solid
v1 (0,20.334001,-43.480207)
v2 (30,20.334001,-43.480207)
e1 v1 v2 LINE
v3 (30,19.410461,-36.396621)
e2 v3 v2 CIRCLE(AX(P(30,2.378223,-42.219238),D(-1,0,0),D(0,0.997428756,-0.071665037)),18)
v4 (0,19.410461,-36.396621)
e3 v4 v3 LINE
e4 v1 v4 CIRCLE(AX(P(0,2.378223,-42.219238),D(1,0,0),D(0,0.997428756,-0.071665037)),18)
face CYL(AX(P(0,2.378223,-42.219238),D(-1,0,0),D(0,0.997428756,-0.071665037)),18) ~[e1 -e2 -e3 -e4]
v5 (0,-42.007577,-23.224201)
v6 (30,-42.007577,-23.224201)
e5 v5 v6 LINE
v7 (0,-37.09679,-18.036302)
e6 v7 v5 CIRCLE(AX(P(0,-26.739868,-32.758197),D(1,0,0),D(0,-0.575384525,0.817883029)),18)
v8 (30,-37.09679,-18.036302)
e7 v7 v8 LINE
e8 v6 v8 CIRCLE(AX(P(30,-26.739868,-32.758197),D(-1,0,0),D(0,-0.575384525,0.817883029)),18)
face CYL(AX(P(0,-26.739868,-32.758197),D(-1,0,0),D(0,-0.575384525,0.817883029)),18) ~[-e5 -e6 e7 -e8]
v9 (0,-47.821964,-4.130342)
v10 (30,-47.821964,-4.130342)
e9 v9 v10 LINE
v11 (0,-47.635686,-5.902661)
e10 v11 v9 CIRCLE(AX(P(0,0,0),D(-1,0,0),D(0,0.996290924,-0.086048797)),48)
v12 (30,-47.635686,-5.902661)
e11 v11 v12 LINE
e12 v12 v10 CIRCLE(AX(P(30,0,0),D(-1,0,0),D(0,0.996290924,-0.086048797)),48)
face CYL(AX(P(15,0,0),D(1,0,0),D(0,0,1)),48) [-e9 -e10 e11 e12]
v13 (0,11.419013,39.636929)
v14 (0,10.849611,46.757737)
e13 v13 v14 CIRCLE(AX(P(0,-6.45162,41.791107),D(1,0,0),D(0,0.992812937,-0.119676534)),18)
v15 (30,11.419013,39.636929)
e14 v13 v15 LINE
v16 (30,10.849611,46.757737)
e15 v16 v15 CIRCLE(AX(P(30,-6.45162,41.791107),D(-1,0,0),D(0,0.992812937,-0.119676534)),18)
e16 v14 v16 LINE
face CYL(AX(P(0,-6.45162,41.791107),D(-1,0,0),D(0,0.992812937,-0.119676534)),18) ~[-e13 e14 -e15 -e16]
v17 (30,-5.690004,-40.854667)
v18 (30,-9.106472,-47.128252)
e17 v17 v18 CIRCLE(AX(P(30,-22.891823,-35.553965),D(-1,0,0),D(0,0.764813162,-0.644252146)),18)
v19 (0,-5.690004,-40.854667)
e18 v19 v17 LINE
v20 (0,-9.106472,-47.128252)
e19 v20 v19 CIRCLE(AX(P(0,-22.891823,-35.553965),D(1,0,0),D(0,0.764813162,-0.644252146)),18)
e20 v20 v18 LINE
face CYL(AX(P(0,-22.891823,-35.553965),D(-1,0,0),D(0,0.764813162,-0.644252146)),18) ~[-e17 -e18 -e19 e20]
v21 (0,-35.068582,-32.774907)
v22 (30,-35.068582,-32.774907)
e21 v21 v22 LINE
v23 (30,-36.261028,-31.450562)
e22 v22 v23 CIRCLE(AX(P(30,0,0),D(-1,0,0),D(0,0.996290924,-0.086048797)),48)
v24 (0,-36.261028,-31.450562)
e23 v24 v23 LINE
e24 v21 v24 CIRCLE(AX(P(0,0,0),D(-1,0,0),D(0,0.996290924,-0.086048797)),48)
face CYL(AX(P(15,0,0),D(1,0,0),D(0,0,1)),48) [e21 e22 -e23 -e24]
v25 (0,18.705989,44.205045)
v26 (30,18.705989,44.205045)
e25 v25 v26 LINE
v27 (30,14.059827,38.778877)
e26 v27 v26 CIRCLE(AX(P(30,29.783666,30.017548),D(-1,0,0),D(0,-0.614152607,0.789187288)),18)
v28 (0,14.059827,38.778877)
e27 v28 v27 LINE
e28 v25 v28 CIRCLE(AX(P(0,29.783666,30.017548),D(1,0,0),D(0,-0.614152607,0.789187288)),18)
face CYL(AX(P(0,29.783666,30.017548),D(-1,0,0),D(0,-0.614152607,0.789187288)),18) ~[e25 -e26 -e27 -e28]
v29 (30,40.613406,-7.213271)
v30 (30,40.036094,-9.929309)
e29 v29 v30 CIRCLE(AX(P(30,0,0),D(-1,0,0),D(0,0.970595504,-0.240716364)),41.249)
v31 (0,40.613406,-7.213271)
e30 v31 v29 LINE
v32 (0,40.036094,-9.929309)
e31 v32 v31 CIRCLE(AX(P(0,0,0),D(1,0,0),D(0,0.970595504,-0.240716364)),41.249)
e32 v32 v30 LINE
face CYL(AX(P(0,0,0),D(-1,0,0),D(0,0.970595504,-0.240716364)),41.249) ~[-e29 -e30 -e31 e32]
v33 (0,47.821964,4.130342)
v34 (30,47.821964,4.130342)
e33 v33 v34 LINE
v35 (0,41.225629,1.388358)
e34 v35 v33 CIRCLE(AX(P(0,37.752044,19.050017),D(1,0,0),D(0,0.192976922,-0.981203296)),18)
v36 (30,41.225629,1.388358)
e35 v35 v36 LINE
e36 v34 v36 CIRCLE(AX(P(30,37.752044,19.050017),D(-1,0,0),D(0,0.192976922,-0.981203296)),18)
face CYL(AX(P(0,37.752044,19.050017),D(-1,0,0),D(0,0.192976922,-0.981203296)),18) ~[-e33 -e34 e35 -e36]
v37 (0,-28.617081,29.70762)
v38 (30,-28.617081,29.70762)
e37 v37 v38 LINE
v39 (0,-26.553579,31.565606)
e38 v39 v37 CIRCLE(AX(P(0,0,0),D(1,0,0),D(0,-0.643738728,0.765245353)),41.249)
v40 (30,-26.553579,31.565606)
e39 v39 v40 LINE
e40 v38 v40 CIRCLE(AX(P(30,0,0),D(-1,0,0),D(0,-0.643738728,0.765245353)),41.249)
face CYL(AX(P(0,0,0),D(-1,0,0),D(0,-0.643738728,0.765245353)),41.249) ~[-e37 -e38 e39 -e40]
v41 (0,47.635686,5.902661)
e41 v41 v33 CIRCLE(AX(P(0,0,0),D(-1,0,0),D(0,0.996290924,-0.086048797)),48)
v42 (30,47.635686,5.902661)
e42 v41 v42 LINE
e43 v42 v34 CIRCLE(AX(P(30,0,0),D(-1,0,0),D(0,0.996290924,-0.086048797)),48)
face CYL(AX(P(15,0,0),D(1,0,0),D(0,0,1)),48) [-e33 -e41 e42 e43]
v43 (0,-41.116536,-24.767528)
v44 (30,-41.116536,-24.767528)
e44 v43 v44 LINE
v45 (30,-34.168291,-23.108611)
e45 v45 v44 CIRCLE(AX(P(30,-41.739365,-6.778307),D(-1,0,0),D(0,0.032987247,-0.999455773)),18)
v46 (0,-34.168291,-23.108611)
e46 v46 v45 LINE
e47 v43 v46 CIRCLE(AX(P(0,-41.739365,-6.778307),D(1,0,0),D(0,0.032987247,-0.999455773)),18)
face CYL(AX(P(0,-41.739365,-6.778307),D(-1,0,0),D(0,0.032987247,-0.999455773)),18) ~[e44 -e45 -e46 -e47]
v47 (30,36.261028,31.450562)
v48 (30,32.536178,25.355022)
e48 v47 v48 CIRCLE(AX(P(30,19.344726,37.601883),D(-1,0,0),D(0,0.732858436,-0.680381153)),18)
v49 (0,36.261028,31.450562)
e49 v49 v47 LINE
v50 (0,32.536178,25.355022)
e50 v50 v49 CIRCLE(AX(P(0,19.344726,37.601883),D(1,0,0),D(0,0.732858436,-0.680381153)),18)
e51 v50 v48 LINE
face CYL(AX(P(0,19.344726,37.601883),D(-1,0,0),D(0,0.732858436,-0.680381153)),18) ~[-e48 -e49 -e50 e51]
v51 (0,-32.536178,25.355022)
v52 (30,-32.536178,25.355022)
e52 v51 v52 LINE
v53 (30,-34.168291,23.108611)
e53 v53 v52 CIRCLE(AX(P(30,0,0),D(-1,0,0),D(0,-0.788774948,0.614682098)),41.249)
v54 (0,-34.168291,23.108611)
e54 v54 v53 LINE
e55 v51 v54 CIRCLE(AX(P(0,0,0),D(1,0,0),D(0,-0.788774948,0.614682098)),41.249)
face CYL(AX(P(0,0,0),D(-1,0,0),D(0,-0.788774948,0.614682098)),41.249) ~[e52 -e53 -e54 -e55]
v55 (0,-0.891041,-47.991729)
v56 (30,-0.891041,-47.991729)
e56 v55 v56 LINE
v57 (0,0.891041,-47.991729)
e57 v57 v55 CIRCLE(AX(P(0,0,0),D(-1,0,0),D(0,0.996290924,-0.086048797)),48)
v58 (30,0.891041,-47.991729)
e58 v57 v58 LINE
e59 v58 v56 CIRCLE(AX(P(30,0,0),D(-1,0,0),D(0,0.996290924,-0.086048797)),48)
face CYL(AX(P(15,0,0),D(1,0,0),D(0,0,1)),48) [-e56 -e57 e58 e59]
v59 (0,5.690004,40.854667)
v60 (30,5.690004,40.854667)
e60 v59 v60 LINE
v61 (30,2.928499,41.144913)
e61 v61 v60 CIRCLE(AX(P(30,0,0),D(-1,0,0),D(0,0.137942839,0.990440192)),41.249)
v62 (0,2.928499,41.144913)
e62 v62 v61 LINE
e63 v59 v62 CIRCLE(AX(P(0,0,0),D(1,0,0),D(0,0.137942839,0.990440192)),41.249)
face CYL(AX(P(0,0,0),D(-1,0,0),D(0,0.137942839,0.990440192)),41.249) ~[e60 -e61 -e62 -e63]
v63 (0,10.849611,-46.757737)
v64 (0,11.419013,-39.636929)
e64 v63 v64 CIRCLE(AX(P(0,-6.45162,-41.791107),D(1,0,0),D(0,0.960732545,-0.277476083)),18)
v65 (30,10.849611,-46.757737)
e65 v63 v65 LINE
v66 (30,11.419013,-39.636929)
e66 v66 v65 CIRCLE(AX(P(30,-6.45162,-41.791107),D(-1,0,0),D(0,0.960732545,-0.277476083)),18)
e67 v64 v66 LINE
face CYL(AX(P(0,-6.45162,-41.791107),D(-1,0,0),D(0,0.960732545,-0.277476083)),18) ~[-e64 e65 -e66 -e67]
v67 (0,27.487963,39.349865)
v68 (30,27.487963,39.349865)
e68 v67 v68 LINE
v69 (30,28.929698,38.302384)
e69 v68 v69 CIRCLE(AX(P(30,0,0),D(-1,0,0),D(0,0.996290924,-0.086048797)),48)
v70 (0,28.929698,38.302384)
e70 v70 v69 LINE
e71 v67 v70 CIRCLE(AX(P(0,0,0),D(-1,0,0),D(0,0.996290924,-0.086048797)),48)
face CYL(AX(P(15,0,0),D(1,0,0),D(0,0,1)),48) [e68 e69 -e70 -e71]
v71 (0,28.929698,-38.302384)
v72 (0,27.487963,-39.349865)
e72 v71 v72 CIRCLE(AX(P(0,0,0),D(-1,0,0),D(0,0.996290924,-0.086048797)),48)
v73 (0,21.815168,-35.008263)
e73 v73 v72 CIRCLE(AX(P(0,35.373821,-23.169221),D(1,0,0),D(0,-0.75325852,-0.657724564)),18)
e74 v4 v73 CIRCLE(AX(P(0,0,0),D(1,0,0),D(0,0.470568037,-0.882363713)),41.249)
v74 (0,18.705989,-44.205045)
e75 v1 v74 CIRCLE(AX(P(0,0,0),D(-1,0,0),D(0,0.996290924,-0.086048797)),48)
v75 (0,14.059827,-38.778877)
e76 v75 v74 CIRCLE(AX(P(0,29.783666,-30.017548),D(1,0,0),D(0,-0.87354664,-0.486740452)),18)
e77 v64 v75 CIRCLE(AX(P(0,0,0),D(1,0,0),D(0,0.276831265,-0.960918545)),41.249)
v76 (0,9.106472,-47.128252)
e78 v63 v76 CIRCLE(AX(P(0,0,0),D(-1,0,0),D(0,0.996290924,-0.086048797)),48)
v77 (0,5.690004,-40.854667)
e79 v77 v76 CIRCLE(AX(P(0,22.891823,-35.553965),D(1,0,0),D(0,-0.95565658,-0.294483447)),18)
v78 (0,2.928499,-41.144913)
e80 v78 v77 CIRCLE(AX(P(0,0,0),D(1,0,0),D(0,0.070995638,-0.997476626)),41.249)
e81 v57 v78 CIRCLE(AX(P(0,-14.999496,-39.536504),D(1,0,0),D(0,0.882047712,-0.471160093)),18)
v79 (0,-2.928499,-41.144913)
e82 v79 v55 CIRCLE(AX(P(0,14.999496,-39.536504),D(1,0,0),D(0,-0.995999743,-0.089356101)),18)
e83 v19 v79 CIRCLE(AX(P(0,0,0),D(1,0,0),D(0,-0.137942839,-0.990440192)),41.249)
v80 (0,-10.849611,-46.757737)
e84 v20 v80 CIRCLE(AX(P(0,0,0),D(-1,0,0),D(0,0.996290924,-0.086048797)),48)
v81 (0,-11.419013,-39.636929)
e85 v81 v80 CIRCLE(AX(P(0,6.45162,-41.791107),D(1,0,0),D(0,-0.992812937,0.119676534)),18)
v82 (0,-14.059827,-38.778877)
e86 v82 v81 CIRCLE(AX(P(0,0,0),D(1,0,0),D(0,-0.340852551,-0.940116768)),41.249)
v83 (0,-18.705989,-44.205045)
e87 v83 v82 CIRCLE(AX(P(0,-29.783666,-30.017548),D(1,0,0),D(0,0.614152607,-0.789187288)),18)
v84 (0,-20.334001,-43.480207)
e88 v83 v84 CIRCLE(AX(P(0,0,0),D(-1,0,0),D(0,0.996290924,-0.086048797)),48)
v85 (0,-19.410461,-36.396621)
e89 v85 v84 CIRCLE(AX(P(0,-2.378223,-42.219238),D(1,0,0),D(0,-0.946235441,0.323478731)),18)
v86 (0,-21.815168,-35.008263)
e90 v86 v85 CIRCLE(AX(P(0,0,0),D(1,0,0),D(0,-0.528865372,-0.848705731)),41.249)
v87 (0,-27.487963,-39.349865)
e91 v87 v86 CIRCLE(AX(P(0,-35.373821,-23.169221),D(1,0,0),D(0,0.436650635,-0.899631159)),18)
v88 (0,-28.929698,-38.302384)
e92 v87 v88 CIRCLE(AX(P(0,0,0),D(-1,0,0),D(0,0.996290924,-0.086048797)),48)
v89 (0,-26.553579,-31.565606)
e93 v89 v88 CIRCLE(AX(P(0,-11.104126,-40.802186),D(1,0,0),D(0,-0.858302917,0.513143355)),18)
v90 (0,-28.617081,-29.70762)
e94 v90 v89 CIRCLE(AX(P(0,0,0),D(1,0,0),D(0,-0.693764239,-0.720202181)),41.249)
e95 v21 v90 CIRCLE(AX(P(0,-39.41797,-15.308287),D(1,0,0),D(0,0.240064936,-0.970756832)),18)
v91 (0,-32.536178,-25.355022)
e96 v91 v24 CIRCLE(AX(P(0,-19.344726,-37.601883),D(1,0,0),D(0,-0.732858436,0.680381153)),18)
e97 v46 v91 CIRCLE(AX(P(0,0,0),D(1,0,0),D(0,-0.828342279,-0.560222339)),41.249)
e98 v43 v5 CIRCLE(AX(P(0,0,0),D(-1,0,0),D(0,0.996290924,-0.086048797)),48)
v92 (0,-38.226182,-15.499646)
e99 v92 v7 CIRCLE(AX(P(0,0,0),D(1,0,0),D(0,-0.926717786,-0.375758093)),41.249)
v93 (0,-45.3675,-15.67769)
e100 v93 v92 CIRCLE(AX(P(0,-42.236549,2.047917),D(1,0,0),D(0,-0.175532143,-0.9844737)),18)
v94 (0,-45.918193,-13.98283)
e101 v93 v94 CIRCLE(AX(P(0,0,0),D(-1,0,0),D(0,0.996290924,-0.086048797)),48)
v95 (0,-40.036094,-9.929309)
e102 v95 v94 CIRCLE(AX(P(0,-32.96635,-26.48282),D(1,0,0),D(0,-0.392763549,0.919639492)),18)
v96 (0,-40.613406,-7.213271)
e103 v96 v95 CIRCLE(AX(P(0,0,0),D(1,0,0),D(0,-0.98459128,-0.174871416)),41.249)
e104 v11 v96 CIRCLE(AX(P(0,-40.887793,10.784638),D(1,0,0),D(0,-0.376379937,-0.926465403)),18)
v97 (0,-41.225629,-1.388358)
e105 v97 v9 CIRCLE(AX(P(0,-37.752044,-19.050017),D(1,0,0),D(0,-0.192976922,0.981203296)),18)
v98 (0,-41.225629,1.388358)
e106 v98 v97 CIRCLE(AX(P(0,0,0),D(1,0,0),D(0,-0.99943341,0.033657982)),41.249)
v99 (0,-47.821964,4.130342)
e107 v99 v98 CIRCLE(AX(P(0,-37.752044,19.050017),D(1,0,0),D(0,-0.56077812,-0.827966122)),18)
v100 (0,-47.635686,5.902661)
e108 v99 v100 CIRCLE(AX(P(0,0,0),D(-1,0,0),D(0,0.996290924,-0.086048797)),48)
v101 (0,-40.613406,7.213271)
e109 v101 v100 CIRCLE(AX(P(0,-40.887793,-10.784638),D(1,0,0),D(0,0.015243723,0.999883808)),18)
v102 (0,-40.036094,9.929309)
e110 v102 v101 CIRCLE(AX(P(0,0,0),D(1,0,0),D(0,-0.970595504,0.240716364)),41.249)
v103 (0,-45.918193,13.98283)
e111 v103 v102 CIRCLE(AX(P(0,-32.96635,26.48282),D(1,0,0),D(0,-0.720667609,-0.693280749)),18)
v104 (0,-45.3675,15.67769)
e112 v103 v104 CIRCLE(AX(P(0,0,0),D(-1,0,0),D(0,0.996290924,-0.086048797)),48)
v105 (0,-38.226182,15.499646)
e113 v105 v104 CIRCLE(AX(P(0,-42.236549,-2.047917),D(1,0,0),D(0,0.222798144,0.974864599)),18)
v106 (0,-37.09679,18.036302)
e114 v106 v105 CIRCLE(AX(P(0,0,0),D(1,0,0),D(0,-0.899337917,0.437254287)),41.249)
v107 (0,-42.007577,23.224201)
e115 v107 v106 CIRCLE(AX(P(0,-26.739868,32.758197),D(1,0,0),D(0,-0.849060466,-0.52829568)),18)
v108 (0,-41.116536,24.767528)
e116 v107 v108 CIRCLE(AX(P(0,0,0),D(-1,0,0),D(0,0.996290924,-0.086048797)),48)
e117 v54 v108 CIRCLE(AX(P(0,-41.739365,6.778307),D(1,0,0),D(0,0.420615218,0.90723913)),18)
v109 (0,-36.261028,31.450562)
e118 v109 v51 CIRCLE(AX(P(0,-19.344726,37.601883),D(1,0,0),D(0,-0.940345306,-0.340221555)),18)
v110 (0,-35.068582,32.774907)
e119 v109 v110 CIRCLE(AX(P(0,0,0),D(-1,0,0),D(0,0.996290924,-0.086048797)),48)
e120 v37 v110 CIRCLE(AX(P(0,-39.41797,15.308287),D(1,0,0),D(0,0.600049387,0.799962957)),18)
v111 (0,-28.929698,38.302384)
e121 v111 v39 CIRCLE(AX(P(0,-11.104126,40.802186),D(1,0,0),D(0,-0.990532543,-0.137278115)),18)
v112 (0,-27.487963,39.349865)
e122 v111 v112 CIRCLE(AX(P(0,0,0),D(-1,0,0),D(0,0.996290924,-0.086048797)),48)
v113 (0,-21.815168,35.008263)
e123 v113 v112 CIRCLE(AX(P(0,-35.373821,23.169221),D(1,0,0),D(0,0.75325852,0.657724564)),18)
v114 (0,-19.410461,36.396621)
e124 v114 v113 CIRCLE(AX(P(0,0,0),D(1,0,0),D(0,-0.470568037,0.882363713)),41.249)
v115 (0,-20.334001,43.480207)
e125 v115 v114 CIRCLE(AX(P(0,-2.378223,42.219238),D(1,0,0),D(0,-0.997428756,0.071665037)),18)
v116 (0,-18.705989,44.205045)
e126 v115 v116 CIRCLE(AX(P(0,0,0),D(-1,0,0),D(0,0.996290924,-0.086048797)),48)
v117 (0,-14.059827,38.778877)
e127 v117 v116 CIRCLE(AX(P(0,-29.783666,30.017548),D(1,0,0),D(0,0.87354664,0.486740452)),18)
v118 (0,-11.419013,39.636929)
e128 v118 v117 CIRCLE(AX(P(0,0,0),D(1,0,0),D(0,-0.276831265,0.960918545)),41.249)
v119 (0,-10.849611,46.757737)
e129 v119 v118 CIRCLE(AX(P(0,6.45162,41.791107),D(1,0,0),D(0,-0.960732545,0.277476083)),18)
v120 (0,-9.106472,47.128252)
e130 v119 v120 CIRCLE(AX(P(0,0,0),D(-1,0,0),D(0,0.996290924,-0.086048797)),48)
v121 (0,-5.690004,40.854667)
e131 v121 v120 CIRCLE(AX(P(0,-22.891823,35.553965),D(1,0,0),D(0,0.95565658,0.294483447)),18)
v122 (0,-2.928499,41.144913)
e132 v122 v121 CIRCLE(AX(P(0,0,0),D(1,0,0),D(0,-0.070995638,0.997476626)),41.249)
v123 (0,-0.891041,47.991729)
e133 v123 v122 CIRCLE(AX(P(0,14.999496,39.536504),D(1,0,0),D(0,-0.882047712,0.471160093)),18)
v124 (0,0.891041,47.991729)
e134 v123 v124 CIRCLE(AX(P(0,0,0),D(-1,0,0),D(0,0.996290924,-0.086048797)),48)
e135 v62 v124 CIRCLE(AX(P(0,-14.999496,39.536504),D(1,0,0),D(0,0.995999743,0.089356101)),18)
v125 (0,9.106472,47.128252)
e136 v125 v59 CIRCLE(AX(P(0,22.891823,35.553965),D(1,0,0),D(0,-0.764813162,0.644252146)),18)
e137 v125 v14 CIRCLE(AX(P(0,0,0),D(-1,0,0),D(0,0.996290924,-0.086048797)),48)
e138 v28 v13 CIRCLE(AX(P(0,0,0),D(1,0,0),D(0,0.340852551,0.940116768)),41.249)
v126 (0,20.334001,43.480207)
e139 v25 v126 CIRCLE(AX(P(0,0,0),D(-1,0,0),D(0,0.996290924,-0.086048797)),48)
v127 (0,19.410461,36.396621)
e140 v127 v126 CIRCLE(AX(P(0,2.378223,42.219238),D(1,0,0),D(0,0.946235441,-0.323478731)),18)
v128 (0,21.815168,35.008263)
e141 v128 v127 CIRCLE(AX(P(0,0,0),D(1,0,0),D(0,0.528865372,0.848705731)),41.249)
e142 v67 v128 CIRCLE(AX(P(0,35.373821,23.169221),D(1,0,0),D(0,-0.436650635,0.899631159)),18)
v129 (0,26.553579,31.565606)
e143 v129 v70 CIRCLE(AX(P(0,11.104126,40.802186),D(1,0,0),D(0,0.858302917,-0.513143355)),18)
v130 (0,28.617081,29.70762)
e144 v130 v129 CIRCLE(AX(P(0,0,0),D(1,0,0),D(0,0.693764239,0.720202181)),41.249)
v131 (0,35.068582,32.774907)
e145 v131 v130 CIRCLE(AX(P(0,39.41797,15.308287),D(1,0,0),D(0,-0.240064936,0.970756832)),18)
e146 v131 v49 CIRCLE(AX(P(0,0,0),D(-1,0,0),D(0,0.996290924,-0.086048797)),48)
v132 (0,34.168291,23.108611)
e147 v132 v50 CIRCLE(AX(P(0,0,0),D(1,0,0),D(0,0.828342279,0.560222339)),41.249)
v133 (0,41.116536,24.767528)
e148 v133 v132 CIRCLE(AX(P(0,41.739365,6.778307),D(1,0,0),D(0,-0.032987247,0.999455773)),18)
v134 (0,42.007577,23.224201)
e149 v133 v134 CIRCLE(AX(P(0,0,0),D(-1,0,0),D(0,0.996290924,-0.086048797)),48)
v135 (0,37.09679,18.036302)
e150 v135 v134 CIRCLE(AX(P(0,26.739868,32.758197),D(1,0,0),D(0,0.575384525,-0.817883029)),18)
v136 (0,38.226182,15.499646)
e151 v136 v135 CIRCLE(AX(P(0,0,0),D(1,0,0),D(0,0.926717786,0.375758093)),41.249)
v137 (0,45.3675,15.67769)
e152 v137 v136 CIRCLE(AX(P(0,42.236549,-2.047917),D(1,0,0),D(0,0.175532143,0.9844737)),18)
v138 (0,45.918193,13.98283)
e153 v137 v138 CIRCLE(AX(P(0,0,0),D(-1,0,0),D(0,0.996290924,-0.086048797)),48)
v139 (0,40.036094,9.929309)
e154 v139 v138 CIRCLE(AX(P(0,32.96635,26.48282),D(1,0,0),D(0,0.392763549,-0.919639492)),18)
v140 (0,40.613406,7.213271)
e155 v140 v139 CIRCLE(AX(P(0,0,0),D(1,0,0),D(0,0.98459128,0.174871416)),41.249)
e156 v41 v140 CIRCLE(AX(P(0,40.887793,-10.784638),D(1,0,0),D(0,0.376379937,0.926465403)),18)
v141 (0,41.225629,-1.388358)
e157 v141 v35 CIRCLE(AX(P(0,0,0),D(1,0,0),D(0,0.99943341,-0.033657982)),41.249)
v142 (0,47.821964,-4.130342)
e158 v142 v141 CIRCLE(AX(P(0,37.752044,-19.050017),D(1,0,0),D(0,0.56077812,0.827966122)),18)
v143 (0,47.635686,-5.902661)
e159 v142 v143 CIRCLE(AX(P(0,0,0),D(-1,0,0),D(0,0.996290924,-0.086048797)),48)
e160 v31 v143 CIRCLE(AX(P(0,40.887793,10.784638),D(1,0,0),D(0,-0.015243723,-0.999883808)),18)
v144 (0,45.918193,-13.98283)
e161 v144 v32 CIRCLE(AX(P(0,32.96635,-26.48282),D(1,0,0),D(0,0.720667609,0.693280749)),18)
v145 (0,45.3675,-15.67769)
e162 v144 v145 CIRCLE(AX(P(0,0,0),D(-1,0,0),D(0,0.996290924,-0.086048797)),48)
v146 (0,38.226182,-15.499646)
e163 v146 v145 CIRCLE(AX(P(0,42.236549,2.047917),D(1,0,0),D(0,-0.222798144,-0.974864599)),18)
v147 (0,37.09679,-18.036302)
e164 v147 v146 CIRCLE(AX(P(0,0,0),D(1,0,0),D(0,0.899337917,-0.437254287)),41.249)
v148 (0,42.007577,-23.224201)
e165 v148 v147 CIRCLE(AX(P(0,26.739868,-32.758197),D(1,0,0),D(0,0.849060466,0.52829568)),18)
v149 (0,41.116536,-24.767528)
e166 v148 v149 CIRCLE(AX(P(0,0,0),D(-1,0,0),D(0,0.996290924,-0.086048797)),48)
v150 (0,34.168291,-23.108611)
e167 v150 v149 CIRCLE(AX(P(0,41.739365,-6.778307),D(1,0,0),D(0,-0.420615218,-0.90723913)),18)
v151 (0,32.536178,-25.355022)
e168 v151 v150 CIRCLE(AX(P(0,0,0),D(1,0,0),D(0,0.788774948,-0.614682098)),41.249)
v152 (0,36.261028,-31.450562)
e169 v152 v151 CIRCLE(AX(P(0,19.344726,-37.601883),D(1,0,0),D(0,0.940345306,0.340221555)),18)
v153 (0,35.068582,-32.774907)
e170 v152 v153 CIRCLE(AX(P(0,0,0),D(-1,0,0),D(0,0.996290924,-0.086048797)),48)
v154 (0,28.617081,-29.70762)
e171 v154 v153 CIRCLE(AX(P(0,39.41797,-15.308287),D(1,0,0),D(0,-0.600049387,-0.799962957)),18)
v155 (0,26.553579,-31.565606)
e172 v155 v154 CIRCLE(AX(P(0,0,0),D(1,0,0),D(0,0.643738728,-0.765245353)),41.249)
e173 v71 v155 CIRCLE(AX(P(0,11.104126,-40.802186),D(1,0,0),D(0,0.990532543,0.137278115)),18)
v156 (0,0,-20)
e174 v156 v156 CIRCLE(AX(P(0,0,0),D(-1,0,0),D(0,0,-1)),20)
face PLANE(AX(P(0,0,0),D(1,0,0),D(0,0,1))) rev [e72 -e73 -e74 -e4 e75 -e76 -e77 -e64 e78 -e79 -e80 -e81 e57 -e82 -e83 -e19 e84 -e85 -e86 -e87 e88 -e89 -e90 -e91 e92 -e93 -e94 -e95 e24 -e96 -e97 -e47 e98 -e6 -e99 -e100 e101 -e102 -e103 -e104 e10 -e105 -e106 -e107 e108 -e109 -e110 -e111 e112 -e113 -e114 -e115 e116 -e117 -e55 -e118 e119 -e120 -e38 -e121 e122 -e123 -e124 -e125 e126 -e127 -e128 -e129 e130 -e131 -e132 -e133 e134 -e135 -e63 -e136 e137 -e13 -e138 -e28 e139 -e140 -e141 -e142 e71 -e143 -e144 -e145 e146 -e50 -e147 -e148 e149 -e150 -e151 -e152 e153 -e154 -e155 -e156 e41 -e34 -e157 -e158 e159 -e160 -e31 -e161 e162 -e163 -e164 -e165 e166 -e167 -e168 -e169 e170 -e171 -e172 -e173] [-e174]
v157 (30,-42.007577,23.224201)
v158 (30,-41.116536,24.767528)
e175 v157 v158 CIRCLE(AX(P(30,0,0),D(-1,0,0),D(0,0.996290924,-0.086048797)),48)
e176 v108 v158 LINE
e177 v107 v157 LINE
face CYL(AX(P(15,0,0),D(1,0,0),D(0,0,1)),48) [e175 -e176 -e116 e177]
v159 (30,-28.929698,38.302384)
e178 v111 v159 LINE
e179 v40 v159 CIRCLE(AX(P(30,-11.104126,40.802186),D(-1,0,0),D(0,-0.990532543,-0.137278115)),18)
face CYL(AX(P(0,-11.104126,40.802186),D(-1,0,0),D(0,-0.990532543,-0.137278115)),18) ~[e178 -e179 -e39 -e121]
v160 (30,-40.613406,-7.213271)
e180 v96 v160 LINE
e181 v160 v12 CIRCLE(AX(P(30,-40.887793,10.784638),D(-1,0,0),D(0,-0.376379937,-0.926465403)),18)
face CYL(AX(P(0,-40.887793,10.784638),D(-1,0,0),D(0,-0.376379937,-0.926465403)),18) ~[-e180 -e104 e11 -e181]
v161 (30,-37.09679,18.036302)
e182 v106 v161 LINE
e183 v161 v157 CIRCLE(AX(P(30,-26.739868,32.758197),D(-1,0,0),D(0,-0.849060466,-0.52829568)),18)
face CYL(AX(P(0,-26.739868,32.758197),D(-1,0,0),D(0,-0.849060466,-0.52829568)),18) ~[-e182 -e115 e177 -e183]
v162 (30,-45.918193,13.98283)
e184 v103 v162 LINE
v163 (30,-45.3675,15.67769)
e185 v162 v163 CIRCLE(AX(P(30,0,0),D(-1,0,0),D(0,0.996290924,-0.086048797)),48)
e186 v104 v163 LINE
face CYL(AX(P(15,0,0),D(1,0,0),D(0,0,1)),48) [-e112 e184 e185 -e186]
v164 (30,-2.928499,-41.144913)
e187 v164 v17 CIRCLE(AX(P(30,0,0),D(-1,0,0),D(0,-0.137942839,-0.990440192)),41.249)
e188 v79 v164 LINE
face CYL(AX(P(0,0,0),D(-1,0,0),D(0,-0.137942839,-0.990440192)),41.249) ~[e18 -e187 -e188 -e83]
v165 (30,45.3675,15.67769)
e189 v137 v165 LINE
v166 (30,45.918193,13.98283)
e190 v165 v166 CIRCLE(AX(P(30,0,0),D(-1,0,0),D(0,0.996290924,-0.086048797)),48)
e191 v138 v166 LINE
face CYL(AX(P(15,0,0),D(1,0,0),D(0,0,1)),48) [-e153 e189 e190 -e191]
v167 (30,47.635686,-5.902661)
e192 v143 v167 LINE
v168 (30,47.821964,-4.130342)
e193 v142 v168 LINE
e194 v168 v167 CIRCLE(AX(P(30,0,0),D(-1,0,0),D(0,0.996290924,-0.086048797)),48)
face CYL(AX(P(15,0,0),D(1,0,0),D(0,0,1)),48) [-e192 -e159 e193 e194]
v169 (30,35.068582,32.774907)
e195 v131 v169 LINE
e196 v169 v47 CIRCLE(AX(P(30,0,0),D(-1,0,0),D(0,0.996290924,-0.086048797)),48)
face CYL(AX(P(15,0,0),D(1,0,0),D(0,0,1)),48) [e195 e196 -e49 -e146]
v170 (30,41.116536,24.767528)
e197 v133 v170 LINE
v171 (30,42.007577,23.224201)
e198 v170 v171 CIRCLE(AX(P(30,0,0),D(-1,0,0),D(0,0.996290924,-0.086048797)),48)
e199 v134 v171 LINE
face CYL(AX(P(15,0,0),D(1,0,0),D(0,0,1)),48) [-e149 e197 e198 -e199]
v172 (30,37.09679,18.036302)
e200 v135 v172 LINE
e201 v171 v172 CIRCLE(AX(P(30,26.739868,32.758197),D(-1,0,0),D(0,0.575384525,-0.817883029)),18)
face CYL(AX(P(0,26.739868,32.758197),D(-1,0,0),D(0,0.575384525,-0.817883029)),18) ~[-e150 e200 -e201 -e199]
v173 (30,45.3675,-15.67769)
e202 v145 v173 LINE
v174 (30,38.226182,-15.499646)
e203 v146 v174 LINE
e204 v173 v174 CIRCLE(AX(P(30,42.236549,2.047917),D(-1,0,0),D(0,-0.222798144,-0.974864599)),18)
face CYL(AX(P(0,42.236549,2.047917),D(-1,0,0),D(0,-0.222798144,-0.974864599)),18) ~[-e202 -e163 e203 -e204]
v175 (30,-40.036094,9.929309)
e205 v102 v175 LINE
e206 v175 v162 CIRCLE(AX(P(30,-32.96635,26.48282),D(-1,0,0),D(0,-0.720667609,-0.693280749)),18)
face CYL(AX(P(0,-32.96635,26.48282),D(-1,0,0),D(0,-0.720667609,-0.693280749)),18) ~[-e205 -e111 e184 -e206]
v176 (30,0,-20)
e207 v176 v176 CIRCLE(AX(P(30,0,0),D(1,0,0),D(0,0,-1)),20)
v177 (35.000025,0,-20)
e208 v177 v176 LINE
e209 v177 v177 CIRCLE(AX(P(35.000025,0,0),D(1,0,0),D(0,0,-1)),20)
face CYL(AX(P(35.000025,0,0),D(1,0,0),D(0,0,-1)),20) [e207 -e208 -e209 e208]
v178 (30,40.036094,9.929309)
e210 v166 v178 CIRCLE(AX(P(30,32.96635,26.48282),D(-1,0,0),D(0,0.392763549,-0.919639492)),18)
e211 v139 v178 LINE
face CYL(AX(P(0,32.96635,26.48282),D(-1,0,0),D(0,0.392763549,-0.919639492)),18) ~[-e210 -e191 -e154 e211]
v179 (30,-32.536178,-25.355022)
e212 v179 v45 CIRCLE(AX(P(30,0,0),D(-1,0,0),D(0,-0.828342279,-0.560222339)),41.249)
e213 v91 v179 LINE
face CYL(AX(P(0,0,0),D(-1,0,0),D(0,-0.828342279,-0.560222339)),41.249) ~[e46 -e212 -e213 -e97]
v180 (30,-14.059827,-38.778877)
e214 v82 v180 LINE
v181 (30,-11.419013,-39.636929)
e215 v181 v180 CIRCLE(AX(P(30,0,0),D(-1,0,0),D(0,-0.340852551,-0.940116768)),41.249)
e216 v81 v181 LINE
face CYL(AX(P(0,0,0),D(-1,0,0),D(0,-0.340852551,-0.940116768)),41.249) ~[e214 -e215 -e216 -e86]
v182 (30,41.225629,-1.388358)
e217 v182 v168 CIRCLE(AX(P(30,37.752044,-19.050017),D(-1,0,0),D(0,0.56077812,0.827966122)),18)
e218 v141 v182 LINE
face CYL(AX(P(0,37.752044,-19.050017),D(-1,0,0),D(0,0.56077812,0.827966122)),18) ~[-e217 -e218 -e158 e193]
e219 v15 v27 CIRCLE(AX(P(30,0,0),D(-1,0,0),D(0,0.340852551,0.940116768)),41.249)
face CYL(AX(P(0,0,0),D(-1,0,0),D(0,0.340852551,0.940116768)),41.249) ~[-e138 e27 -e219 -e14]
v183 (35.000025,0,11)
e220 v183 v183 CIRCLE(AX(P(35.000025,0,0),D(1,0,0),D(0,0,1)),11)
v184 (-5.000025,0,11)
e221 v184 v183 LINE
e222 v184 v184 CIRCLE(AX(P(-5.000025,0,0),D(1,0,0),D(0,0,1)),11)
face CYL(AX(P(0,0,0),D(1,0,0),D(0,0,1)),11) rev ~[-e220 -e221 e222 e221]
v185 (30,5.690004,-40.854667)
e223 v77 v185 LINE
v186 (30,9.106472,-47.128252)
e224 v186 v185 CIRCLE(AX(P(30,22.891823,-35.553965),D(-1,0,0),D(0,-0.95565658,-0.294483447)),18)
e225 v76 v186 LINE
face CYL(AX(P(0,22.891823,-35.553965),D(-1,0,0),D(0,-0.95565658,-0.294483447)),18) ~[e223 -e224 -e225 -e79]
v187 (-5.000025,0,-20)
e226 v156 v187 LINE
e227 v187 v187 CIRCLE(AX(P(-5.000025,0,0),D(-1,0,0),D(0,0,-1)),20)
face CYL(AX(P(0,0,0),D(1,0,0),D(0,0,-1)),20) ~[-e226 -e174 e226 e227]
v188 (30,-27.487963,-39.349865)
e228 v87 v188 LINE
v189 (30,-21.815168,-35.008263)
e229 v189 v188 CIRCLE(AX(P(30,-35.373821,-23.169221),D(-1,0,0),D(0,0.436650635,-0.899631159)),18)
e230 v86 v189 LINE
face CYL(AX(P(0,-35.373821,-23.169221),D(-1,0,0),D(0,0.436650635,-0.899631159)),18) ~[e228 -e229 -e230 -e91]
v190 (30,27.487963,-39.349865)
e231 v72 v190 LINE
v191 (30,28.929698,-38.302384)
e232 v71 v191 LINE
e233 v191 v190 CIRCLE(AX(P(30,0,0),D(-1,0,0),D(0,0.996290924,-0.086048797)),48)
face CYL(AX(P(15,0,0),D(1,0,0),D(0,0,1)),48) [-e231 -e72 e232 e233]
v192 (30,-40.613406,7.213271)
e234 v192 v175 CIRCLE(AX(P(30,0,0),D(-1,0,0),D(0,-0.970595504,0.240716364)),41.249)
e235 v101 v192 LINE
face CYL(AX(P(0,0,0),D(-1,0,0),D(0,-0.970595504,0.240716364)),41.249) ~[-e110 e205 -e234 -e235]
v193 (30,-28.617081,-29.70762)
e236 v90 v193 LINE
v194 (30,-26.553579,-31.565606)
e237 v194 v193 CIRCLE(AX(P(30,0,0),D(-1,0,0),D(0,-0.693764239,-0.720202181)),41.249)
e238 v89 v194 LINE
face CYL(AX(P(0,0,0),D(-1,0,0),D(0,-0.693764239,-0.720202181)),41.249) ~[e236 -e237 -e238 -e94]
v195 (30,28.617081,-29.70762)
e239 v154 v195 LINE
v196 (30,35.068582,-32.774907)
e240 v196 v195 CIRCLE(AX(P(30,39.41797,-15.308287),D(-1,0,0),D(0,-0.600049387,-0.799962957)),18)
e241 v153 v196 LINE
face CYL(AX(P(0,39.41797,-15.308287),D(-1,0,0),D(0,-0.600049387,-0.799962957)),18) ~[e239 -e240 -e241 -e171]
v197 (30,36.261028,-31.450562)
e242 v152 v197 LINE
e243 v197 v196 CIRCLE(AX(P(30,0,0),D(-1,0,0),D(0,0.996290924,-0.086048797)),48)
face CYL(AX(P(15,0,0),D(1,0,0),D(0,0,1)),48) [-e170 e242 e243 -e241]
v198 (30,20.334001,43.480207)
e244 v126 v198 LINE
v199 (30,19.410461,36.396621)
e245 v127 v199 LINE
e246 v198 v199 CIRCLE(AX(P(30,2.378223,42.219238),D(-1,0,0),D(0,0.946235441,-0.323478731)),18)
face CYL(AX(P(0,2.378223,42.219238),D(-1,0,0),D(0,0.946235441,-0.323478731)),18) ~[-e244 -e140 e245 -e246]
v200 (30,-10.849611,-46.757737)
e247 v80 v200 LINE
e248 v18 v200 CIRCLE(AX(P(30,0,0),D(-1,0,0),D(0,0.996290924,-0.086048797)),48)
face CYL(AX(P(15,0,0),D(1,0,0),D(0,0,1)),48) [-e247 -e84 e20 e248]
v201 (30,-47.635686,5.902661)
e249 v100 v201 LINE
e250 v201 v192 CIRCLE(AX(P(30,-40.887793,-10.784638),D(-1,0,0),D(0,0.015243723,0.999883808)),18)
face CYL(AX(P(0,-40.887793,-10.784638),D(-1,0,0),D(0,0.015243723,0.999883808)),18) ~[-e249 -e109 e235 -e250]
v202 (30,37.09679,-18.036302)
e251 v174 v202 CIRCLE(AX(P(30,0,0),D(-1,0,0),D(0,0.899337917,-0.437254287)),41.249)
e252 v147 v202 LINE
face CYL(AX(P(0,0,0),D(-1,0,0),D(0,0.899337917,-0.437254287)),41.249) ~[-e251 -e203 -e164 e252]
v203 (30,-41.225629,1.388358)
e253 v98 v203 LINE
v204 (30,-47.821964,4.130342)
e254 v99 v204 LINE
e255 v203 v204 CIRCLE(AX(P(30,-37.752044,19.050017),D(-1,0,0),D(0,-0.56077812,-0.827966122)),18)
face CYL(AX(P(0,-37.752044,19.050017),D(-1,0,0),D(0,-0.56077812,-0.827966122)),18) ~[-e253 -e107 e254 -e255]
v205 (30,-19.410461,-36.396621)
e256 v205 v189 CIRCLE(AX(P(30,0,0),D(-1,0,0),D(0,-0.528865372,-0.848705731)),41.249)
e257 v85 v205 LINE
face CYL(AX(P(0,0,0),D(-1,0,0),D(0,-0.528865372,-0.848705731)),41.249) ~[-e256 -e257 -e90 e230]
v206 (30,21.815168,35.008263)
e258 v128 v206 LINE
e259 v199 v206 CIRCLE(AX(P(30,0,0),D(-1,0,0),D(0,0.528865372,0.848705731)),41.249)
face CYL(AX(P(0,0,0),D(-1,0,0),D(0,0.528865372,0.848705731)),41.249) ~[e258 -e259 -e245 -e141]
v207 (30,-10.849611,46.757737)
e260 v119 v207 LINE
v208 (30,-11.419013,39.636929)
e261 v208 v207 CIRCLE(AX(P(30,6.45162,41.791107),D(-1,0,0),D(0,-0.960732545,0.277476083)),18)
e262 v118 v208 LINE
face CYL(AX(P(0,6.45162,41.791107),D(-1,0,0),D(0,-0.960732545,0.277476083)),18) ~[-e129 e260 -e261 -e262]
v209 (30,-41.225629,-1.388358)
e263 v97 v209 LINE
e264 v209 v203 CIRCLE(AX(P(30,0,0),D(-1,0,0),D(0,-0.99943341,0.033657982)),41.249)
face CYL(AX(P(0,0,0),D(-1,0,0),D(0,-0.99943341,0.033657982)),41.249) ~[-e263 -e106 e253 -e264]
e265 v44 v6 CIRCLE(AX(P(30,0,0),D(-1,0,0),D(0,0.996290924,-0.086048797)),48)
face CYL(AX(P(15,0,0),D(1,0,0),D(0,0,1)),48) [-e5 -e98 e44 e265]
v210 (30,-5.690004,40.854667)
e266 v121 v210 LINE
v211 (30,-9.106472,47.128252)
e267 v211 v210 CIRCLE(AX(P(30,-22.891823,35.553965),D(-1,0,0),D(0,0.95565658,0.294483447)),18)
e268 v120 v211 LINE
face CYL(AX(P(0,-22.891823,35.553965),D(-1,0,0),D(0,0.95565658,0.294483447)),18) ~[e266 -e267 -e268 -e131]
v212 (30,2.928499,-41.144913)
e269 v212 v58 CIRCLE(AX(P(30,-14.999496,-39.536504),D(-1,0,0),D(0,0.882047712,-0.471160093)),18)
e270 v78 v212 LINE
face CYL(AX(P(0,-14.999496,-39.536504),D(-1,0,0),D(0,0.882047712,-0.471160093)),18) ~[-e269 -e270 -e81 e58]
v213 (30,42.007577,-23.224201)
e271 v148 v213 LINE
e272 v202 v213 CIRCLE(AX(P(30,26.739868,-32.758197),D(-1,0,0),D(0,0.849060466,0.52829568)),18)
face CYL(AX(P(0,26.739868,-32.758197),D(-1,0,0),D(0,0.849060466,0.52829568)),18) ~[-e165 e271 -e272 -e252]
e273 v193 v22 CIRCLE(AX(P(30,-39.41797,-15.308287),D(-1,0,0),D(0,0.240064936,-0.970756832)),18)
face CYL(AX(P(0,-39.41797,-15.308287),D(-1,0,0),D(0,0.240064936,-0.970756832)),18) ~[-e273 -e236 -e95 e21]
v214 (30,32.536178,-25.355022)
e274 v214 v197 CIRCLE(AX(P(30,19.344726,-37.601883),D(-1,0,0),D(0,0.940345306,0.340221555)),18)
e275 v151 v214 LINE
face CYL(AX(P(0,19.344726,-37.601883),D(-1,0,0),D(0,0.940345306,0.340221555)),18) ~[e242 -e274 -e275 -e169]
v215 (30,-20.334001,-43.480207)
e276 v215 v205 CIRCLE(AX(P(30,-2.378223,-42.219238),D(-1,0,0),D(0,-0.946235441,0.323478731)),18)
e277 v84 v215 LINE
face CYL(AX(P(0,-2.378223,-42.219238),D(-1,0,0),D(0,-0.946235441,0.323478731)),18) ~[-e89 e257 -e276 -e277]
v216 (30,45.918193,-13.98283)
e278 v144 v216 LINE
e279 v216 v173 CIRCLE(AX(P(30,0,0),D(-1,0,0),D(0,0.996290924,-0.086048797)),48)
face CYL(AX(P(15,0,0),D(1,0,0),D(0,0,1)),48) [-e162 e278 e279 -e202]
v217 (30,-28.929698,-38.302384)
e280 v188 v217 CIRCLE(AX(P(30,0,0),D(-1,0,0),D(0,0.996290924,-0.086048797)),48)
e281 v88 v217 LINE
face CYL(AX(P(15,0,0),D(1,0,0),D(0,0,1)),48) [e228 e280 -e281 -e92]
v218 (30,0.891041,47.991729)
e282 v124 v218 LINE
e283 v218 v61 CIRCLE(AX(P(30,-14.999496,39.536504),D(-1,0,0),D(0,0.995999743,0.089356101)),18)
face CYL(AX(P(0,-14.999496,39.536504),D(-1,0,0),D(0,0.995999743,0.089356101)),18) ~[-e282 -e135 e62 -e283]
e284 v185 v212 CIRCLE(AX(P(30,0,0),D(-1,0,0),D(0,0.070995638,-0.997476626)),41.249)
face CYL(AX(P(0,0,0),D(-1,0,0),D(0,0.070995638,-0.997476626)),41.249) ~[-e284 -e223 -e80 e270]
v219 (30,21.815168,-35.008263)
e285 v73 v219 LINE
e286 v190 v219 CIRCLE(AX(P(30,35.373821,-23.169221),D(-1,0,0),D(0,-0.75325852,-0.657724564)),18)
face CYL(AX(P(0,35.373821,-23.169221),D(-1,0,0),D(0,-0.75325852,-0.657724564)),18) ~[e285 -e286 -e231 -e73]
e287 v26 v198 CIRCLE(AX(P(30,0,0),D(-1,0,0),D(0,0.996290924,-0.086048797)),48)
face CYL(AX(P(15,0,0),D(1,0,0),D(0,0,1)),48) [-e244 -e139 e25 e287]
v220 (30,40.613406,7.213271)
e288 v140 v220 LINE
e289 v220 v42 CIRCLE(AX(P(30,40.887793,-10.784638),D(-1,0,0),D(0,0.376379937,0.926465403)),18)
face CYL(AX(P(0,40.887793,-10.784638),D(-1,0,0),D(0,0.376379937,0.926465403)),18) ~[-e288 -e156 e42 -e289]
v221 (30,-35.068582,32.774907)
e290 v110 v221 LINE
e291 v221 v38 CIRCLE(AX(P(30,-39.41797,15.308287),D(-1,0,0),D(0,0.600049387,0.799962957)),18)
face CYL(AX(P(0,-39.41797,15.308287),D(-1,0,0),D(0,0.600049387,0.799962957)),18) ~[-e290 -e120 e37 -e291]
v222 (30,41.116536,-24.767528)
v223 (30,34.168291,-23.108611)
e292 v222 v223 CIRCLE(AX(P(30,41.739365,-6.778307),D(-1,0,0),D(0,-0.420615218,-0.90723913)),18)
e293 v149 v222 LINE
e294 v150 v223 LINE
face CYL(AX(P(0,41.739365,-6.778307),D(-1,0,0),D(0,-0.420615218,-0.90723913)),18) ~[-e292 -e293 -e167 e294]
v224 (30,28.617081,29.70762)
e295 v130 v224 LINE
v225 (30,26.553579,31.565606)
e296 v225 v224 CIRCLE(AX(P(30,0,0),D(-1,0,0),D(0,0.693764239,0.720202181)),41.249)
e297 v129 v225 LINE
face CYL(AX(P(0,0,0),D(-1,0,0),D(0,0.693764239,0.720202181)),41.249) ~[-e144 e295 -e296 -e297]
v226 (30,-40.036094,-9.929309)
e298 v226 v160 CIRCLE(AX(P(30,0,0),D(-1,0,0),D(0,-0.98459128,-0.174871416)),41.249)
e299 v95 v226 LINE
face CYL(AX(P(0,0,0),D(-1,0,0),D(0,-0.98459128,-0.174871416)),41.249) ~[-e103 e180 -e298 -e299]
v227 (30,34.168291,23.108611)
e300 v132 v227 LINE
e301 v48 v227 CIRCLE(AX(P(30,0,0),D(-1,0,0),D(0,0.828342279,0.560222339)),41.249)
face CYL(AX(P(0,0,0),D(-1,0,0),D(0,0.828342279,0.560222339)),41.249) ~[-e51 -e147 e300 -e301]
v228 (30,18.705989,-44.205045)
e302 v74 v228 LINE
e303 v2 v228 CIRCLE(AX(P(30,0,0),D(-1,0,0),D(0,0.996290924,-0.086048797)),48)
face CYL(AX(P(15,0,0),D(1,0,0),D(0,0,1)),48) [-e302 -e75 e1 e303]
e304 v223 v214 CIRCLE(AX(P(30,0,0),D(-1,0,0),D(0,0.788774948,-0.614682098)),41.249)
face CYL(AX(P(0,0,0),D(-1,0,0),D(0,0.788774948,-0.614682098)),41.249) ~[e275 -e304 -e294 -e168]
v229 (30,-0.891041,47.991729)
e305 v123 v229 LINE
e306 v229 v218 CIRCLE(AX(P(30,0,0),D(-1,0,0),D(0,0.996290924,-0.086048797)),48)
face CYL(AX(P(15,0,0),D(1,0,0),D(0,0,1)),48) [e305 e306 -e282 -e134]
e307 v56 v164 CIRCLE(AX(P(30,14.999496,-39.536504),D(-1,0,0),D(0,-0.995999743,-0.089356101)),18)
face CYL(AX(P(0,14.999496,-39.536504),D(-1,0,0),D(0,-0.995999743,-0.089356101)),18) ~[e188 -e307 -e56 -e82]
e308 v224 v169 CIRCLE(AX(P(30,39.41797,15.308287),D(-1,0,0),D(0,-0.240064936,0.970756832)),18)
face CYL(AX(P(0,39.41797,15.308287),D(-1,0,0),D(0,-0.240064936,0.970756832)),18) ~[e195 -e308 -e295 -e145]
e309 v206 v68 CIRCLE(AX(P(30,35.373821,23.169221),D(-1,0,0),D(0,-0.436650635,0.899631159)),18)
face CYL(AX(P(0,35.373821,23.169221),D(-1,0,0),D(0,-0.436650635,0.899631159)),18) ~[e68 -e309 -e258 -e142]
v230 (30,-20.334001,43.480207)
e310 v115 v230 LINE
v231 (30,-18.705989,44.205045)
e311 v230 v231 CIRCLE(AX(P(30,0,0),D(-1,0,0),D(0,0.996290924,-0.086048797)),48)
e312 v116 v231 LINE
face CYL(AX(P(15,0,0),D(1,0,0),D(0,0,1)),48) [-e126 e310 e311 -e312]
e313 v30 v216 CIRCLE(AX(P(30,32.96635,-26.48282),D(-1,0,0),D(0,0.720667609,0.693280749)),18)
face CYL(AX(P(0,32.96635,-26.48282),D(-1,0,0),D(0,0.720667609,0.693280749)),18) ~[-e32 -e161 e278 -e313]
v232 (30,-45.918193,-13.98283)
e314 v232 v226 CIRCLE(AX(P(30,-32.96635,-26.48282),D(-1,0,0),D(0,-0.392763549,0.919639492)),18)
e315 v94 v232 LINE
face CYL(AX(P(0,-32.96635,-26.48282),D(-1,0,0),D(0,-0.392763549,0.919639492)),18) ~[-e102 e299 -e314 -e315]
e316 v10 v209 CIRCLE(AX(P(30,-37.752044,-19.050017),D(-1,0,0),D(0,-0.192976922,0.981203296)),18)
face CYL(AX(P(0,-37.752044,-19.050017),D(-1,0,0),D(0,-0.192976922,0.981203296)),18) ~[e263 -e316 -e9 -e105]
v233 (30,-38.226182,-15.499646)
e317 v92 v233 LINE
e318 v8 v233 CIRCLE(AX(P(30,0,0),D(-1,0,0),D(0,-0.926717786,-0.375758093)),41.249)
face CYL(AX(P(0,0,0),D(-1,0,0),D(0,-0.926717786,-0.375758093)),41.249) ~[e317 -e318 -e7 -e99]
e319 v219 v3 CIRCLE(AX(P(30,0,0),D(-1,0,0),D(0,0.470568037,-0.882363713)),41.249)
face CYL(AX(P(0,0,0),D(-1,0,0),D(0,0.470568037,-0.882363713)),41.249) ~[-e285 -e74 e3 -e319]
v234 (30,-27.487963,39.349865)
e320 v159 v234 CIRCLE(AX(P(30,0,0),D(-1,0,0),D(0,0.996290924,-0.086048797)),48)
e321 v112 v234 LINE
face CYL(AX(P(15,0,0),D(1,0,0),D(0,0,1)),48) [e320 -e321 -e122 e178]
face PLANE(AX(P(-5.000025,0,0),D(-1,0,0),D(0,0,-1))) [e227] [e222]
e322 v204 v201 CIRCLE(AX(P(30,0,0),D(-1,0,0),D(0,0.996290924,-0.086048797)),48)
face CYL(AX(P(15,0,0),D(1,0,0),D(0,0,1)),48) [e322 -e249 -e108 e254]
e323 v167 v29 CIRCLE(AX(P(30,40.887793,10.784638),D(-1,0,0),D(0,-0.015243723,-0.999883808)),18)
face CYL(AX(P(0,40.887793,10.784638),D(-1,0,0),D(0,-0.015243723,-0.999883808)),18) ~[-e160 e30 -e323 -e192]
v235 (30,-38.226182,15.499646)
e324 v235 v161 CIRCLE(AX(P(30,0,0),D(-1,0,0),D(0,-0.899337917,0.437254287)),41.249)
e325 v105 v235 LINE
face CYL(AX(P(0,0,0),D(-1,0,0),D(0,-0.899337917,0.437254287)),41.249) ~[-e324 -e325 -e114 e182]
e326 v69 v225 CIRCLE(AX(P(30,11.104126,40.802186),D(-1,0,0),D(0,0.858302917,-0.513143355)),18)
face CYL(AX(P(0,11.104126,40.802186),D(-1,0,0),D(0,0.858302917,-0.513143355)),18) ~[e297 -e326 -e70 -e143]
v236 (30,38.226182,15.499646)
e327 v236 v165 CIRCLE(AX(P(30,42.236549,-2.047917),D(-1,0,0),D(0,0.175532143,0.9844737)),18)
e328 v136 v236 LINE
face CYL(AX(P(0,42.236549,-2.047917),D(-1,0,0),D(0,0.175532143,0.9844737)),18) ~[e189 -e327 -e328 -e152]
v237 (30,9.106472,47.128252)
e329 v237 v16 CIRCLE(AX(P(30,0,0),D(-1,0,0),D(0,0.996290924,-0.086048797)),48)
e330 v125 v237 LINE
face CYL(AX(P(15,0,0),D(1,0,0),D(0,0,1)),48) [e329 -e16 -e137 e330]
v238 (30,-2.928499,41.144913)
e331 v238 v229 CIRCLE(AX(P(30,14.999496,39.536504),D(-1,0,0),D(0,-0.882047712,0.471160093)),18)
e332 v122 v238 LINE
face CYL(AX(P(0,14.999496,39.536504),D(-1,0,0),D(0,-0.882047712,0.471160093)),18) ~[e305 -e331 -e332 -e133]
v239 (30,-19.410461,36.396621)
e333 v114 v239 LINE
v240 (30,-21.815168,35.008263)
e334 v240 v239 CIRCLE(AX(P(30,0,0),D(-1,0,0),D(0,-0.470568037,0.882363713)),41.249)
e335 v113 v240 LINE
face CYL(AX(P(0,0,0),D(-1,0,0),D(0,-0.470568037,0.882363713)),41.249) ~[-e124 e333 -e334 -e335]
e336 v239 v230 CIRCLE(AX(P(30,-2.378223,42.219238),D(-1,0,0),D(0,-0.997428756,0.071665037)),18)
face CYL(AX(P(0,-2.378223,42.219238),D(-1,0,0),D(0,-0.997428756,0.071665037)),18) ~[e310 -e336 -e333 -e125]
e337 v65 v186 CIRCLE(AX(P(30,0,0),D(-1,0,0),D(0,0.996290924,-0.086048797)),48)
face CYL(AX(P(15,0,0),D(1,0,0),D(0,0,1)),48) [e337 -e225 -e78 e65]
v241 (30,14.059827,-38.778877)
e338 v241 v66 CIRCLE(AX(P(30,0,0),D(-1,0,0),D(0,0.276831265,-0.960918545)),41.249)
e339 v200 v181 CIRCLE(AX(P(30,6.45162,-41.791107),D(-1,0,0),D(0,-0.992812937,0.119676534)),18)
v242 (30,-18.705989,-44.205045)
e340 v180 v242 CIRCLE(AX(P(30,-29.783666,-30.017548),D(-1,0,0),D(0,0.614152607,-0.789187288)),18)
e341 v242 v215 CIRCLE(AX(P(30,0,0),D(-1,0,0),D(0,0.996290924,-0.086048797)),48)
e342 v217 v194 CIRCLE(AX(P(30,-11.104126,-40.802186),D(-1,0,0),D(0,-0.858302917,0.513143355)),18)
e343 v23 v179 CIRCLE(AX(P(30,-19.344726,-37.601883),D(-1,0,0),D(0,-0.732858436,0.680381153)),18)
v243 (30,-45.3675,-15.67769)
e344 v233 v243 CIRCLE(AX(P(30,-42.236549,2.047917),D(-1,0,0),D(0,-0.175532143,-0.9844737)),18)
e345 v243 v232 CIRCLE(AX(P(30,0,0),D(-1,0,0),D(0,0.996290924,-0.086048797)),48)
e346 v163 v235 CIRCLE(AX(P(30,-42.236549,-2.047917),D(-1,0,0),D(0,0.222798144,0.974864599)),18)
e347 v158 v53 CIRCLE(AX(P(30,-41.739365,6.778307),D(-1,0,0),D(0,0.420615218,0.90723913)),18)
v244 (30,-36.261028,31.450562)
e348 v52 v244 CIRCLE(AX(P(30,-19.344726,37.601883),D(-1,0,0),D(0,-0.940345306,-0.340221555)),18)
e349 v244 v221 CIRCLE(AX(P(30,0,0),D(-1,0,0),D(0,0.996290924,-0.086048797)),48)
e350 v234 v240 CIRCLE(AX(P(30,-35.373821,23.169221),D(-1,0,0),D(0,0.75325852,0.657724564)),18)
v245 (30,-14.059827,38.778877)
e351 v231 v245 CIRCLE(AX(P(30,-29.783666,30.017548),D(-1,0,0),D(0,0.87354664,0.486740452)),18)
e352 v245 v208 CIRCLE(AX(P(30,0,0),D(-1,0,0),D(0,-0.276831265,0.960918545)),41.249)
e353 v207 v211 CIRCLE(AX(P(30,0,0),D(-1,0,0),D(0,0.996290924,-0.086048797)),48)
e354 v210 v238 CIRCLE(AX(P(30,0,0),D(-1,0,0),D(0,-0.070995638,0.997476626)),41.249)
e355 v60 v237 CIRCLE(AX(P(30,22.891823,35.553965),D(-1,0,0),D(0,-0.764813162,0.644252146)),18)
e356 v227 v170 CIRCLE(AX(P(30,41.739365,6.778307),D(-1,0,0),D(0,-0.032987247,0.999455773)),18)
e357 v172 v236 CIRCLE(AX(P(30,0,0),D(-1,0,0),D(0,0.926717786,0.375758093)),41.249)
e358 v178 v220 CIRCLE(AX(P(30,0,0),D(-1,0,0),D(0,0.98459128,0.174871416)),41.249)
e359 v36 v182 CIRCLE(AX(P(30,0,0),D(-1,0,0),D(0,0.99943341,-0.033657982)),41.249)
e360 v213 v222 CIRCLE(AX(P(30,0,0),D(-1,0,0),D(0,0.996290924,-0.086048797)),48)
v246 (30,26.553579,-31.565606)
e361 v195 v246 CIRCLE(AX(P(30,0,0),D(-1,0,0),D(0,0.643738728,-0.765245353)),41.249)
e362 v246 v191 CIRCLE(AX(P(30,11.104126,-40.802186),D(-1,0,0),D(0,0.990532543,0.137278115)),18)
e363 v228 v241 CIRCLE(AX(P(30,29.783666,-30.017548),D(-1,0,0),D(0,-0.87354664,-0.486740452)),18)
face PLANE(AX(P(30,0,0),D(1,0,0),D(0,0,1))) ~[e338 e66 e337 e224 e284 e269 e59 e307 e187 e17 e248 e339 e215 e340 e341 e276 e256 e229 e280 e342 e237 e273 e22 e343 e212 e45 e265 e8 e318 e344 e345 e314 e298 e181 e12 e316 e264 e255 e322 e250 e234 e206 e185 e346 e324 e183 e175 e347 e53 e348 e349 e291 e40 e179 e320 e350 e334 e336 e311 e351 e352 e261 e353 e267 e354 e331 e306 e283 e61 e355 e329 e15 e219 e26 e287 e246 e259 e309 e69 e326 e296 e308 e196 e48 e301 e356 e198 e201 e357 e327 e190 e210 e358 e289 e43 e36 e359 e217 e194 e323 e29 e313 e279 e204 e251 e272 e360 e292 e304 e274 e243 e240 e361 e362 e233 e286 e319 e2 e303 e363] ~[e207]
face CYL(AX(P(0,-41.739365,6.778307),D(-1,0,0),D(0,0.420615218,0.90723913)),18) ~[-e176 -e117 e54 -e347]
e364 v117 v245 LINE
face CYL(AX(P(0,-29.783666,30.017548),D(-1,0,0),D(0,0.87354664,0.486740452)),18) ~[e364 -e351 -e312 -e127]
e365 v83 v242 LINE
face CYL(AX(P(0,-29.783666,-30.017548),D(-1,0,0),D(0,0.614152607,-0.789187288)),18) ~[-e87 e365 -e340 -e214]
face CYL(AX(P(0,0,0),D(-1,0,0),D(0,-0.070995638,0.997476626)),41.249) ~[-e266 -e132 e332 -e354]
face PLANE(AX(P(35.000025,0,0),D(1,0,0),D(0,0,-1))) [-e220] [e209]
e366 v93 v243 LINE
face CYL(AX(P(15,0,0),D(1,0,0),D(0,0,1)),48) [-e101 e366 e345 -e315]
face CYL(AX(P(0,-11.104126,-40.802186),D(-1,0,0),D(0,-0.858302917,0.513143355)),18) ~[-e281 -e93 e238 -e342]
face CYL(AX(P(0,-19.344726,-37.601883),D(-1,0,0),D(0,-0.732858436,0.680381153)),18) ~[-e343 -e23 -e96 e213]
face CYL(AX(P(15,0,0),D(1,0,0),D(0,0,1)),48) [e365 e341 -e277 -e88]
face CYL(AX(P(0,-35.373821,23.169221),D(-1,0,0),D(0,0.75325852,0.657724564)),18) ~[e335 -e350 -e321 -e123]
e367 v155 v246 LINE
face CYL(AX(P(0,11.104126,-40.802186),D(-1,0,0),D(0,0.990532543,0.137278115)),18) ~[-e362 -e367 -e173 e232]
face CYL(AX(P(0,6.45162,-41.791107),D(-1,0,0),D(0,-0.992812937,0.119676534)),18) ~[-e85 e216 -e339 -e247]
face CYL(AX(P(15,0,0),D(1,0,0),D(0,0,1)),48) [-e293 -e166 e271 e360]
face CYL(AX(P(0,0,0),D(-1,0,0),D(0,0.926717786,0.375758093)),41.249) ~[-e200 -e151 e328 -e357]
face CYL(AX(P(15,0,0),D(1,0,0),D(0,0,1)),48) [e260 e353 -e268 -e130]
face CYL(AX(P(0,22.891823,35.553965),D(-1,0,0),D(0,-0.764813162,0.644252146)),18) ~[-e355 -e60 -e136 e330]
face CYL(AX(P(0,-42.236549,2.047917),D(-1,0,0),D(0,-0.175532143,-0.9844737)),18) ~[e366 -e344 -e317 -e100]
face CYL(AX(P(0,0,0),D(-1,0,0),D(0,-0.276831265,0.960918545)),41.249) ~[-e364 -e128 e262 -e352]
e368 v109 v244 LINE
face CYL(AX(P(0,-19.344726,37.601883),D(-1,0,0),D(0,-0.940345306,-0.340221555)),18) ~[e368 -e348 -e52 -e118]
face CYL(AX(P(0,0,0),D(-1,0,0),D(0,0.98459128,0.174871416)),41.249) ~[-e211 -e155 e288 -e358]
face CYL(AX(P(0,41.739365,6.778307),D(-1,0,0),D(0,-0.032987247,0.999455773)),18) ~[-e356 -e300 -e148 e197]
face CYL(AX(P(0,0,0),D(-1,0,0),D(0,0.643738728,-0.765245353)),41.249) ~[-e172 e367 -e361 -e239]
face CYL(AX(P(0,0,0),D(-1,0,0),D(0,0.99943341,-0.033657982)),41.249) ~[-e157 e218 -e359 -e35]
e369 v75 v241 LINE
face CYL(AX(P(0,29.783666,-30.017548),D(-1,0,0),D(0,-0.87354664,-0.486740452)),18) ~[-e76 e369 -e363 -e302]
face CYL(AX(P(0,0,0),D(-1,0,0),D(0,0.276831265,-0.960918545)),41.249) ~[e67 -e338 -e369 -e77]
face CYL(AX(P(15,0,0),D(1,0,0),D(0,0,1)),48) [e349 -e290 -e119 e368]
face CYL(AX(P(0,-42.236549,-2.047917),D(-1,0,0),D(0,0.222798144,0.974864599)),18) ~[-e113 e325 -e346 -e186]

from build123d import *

# Parameters (mm, degrees)
BASPROSKE_W       = 30
BASPROSKE_H       = 48
TOOTHCUT_DEPTH    = 75.215901261
TEETHCUTS_COUNT   = 30
TEETHCUTS_ANGLE   = 348
HUBNEABOTSKE_R    = 20
HUBNEARBOTH_DEPTH = 5.0000254
HUBFAR_START      = 5.0000254
HUBFARSKE_R       = 20
HUBFAR_DEPTH      = 5.0000254
BORSKE_R          = 11
BORE_DEPTH        = 40.0000508


with BuildPart() as part:
    # BasProSke → Base-Revolve (revolve)
    with BuildSketch(Plane(origin=(0, 0, 0), x_dir=(1, 0, 0), z_dir=(0, 1, 0)), mode=Mode.PRIVATE) as base_revolve_sk:
        with Locations((15, 24)):
            Rectangle(BASPROSKE_W, BASPROSKE_H)
    revolve(base_revolve_sk.sketch.rotate(Axis((-10, 0, 0), (1, 0, 0)), 180), axis=Axis((-10, 0, 0), (1, 0, 0)))

    # TooCutSke → ToothCut (cut, through all)
    with BuildSketch(Plane(origin=(0, 0, 0), x_dir=(0, 0, -1), z_dir=(1, 0, 0))):
        with BuildLine():
            ThreePointArc((1.388358102, 41.225628713), (0, 41.249), (-1.388358102, 41.225628713))
            ThreePointArc((-1.388358102, 41.225628713), (-2.434419088, 44.674608087), (-4.146627223, 47.846050285))
            ThreePointArc((-4.146627223, 47.846050285), (0, 48.0254), (4.146627223, 47.846050285))
            ThreePointArc((4.146627223, 47.846050285), (2.434419088, 44.674608087), (1.388358102, 41.225628713))
        make_face()
    toothcut = extrude(amount=TOOTHCUT_DEPTH, mode=Mode.SUBTRACT)

    # TeethCuts: ToothCut ×30 about axis
    teethcuts_axis = Axis((-10, 0, 0), (1, 0, 0))
    for i in range(1, TEETHCUTS_COUNT):
        add(toothcut.rotate(teethcuts_axis, i * TEETHCUTS_ANGLE / (TEETHCUTS_COUNT - 1)), mode=Mode.SUBTRACT)

    # HubNeaBotSke → HubNearBoth (add)
    with BuildSketch(Plane.ZY):
        with Locations(Location((0, 0, 0), (0, 0, 180))):
            Circle(HUBNEABOTSKE_R)
    extrude(amount=HUBNEARBOTH_DEPTH)

    # HubFarSke → HubFar (add)
    with BuildSketch(Plane(origin=(30, 0, 0), x_dir=(0, 0, -1), z_dir=(1, 0, 0)).offset(HUBFAR_START)):
        Circle(HUBFARSKE_R)
    extrude(amount=-HUBFAR_DEPTH)

    # BorSke → Bore (cut, symmetric)
    with BuildSketch(Plane(origin=(0, 0, 0), x_dir=(0, 0, -1), z_dir=(1, 0, 0))):
        with Locations(Location((0, 0, 0), (0, 0, 180))):
            Circle(BORSKE_R)
    extrude(amount=BORE_DEPTH, both=True, mode=Mode.SUBTRACT)


solid = part.part
